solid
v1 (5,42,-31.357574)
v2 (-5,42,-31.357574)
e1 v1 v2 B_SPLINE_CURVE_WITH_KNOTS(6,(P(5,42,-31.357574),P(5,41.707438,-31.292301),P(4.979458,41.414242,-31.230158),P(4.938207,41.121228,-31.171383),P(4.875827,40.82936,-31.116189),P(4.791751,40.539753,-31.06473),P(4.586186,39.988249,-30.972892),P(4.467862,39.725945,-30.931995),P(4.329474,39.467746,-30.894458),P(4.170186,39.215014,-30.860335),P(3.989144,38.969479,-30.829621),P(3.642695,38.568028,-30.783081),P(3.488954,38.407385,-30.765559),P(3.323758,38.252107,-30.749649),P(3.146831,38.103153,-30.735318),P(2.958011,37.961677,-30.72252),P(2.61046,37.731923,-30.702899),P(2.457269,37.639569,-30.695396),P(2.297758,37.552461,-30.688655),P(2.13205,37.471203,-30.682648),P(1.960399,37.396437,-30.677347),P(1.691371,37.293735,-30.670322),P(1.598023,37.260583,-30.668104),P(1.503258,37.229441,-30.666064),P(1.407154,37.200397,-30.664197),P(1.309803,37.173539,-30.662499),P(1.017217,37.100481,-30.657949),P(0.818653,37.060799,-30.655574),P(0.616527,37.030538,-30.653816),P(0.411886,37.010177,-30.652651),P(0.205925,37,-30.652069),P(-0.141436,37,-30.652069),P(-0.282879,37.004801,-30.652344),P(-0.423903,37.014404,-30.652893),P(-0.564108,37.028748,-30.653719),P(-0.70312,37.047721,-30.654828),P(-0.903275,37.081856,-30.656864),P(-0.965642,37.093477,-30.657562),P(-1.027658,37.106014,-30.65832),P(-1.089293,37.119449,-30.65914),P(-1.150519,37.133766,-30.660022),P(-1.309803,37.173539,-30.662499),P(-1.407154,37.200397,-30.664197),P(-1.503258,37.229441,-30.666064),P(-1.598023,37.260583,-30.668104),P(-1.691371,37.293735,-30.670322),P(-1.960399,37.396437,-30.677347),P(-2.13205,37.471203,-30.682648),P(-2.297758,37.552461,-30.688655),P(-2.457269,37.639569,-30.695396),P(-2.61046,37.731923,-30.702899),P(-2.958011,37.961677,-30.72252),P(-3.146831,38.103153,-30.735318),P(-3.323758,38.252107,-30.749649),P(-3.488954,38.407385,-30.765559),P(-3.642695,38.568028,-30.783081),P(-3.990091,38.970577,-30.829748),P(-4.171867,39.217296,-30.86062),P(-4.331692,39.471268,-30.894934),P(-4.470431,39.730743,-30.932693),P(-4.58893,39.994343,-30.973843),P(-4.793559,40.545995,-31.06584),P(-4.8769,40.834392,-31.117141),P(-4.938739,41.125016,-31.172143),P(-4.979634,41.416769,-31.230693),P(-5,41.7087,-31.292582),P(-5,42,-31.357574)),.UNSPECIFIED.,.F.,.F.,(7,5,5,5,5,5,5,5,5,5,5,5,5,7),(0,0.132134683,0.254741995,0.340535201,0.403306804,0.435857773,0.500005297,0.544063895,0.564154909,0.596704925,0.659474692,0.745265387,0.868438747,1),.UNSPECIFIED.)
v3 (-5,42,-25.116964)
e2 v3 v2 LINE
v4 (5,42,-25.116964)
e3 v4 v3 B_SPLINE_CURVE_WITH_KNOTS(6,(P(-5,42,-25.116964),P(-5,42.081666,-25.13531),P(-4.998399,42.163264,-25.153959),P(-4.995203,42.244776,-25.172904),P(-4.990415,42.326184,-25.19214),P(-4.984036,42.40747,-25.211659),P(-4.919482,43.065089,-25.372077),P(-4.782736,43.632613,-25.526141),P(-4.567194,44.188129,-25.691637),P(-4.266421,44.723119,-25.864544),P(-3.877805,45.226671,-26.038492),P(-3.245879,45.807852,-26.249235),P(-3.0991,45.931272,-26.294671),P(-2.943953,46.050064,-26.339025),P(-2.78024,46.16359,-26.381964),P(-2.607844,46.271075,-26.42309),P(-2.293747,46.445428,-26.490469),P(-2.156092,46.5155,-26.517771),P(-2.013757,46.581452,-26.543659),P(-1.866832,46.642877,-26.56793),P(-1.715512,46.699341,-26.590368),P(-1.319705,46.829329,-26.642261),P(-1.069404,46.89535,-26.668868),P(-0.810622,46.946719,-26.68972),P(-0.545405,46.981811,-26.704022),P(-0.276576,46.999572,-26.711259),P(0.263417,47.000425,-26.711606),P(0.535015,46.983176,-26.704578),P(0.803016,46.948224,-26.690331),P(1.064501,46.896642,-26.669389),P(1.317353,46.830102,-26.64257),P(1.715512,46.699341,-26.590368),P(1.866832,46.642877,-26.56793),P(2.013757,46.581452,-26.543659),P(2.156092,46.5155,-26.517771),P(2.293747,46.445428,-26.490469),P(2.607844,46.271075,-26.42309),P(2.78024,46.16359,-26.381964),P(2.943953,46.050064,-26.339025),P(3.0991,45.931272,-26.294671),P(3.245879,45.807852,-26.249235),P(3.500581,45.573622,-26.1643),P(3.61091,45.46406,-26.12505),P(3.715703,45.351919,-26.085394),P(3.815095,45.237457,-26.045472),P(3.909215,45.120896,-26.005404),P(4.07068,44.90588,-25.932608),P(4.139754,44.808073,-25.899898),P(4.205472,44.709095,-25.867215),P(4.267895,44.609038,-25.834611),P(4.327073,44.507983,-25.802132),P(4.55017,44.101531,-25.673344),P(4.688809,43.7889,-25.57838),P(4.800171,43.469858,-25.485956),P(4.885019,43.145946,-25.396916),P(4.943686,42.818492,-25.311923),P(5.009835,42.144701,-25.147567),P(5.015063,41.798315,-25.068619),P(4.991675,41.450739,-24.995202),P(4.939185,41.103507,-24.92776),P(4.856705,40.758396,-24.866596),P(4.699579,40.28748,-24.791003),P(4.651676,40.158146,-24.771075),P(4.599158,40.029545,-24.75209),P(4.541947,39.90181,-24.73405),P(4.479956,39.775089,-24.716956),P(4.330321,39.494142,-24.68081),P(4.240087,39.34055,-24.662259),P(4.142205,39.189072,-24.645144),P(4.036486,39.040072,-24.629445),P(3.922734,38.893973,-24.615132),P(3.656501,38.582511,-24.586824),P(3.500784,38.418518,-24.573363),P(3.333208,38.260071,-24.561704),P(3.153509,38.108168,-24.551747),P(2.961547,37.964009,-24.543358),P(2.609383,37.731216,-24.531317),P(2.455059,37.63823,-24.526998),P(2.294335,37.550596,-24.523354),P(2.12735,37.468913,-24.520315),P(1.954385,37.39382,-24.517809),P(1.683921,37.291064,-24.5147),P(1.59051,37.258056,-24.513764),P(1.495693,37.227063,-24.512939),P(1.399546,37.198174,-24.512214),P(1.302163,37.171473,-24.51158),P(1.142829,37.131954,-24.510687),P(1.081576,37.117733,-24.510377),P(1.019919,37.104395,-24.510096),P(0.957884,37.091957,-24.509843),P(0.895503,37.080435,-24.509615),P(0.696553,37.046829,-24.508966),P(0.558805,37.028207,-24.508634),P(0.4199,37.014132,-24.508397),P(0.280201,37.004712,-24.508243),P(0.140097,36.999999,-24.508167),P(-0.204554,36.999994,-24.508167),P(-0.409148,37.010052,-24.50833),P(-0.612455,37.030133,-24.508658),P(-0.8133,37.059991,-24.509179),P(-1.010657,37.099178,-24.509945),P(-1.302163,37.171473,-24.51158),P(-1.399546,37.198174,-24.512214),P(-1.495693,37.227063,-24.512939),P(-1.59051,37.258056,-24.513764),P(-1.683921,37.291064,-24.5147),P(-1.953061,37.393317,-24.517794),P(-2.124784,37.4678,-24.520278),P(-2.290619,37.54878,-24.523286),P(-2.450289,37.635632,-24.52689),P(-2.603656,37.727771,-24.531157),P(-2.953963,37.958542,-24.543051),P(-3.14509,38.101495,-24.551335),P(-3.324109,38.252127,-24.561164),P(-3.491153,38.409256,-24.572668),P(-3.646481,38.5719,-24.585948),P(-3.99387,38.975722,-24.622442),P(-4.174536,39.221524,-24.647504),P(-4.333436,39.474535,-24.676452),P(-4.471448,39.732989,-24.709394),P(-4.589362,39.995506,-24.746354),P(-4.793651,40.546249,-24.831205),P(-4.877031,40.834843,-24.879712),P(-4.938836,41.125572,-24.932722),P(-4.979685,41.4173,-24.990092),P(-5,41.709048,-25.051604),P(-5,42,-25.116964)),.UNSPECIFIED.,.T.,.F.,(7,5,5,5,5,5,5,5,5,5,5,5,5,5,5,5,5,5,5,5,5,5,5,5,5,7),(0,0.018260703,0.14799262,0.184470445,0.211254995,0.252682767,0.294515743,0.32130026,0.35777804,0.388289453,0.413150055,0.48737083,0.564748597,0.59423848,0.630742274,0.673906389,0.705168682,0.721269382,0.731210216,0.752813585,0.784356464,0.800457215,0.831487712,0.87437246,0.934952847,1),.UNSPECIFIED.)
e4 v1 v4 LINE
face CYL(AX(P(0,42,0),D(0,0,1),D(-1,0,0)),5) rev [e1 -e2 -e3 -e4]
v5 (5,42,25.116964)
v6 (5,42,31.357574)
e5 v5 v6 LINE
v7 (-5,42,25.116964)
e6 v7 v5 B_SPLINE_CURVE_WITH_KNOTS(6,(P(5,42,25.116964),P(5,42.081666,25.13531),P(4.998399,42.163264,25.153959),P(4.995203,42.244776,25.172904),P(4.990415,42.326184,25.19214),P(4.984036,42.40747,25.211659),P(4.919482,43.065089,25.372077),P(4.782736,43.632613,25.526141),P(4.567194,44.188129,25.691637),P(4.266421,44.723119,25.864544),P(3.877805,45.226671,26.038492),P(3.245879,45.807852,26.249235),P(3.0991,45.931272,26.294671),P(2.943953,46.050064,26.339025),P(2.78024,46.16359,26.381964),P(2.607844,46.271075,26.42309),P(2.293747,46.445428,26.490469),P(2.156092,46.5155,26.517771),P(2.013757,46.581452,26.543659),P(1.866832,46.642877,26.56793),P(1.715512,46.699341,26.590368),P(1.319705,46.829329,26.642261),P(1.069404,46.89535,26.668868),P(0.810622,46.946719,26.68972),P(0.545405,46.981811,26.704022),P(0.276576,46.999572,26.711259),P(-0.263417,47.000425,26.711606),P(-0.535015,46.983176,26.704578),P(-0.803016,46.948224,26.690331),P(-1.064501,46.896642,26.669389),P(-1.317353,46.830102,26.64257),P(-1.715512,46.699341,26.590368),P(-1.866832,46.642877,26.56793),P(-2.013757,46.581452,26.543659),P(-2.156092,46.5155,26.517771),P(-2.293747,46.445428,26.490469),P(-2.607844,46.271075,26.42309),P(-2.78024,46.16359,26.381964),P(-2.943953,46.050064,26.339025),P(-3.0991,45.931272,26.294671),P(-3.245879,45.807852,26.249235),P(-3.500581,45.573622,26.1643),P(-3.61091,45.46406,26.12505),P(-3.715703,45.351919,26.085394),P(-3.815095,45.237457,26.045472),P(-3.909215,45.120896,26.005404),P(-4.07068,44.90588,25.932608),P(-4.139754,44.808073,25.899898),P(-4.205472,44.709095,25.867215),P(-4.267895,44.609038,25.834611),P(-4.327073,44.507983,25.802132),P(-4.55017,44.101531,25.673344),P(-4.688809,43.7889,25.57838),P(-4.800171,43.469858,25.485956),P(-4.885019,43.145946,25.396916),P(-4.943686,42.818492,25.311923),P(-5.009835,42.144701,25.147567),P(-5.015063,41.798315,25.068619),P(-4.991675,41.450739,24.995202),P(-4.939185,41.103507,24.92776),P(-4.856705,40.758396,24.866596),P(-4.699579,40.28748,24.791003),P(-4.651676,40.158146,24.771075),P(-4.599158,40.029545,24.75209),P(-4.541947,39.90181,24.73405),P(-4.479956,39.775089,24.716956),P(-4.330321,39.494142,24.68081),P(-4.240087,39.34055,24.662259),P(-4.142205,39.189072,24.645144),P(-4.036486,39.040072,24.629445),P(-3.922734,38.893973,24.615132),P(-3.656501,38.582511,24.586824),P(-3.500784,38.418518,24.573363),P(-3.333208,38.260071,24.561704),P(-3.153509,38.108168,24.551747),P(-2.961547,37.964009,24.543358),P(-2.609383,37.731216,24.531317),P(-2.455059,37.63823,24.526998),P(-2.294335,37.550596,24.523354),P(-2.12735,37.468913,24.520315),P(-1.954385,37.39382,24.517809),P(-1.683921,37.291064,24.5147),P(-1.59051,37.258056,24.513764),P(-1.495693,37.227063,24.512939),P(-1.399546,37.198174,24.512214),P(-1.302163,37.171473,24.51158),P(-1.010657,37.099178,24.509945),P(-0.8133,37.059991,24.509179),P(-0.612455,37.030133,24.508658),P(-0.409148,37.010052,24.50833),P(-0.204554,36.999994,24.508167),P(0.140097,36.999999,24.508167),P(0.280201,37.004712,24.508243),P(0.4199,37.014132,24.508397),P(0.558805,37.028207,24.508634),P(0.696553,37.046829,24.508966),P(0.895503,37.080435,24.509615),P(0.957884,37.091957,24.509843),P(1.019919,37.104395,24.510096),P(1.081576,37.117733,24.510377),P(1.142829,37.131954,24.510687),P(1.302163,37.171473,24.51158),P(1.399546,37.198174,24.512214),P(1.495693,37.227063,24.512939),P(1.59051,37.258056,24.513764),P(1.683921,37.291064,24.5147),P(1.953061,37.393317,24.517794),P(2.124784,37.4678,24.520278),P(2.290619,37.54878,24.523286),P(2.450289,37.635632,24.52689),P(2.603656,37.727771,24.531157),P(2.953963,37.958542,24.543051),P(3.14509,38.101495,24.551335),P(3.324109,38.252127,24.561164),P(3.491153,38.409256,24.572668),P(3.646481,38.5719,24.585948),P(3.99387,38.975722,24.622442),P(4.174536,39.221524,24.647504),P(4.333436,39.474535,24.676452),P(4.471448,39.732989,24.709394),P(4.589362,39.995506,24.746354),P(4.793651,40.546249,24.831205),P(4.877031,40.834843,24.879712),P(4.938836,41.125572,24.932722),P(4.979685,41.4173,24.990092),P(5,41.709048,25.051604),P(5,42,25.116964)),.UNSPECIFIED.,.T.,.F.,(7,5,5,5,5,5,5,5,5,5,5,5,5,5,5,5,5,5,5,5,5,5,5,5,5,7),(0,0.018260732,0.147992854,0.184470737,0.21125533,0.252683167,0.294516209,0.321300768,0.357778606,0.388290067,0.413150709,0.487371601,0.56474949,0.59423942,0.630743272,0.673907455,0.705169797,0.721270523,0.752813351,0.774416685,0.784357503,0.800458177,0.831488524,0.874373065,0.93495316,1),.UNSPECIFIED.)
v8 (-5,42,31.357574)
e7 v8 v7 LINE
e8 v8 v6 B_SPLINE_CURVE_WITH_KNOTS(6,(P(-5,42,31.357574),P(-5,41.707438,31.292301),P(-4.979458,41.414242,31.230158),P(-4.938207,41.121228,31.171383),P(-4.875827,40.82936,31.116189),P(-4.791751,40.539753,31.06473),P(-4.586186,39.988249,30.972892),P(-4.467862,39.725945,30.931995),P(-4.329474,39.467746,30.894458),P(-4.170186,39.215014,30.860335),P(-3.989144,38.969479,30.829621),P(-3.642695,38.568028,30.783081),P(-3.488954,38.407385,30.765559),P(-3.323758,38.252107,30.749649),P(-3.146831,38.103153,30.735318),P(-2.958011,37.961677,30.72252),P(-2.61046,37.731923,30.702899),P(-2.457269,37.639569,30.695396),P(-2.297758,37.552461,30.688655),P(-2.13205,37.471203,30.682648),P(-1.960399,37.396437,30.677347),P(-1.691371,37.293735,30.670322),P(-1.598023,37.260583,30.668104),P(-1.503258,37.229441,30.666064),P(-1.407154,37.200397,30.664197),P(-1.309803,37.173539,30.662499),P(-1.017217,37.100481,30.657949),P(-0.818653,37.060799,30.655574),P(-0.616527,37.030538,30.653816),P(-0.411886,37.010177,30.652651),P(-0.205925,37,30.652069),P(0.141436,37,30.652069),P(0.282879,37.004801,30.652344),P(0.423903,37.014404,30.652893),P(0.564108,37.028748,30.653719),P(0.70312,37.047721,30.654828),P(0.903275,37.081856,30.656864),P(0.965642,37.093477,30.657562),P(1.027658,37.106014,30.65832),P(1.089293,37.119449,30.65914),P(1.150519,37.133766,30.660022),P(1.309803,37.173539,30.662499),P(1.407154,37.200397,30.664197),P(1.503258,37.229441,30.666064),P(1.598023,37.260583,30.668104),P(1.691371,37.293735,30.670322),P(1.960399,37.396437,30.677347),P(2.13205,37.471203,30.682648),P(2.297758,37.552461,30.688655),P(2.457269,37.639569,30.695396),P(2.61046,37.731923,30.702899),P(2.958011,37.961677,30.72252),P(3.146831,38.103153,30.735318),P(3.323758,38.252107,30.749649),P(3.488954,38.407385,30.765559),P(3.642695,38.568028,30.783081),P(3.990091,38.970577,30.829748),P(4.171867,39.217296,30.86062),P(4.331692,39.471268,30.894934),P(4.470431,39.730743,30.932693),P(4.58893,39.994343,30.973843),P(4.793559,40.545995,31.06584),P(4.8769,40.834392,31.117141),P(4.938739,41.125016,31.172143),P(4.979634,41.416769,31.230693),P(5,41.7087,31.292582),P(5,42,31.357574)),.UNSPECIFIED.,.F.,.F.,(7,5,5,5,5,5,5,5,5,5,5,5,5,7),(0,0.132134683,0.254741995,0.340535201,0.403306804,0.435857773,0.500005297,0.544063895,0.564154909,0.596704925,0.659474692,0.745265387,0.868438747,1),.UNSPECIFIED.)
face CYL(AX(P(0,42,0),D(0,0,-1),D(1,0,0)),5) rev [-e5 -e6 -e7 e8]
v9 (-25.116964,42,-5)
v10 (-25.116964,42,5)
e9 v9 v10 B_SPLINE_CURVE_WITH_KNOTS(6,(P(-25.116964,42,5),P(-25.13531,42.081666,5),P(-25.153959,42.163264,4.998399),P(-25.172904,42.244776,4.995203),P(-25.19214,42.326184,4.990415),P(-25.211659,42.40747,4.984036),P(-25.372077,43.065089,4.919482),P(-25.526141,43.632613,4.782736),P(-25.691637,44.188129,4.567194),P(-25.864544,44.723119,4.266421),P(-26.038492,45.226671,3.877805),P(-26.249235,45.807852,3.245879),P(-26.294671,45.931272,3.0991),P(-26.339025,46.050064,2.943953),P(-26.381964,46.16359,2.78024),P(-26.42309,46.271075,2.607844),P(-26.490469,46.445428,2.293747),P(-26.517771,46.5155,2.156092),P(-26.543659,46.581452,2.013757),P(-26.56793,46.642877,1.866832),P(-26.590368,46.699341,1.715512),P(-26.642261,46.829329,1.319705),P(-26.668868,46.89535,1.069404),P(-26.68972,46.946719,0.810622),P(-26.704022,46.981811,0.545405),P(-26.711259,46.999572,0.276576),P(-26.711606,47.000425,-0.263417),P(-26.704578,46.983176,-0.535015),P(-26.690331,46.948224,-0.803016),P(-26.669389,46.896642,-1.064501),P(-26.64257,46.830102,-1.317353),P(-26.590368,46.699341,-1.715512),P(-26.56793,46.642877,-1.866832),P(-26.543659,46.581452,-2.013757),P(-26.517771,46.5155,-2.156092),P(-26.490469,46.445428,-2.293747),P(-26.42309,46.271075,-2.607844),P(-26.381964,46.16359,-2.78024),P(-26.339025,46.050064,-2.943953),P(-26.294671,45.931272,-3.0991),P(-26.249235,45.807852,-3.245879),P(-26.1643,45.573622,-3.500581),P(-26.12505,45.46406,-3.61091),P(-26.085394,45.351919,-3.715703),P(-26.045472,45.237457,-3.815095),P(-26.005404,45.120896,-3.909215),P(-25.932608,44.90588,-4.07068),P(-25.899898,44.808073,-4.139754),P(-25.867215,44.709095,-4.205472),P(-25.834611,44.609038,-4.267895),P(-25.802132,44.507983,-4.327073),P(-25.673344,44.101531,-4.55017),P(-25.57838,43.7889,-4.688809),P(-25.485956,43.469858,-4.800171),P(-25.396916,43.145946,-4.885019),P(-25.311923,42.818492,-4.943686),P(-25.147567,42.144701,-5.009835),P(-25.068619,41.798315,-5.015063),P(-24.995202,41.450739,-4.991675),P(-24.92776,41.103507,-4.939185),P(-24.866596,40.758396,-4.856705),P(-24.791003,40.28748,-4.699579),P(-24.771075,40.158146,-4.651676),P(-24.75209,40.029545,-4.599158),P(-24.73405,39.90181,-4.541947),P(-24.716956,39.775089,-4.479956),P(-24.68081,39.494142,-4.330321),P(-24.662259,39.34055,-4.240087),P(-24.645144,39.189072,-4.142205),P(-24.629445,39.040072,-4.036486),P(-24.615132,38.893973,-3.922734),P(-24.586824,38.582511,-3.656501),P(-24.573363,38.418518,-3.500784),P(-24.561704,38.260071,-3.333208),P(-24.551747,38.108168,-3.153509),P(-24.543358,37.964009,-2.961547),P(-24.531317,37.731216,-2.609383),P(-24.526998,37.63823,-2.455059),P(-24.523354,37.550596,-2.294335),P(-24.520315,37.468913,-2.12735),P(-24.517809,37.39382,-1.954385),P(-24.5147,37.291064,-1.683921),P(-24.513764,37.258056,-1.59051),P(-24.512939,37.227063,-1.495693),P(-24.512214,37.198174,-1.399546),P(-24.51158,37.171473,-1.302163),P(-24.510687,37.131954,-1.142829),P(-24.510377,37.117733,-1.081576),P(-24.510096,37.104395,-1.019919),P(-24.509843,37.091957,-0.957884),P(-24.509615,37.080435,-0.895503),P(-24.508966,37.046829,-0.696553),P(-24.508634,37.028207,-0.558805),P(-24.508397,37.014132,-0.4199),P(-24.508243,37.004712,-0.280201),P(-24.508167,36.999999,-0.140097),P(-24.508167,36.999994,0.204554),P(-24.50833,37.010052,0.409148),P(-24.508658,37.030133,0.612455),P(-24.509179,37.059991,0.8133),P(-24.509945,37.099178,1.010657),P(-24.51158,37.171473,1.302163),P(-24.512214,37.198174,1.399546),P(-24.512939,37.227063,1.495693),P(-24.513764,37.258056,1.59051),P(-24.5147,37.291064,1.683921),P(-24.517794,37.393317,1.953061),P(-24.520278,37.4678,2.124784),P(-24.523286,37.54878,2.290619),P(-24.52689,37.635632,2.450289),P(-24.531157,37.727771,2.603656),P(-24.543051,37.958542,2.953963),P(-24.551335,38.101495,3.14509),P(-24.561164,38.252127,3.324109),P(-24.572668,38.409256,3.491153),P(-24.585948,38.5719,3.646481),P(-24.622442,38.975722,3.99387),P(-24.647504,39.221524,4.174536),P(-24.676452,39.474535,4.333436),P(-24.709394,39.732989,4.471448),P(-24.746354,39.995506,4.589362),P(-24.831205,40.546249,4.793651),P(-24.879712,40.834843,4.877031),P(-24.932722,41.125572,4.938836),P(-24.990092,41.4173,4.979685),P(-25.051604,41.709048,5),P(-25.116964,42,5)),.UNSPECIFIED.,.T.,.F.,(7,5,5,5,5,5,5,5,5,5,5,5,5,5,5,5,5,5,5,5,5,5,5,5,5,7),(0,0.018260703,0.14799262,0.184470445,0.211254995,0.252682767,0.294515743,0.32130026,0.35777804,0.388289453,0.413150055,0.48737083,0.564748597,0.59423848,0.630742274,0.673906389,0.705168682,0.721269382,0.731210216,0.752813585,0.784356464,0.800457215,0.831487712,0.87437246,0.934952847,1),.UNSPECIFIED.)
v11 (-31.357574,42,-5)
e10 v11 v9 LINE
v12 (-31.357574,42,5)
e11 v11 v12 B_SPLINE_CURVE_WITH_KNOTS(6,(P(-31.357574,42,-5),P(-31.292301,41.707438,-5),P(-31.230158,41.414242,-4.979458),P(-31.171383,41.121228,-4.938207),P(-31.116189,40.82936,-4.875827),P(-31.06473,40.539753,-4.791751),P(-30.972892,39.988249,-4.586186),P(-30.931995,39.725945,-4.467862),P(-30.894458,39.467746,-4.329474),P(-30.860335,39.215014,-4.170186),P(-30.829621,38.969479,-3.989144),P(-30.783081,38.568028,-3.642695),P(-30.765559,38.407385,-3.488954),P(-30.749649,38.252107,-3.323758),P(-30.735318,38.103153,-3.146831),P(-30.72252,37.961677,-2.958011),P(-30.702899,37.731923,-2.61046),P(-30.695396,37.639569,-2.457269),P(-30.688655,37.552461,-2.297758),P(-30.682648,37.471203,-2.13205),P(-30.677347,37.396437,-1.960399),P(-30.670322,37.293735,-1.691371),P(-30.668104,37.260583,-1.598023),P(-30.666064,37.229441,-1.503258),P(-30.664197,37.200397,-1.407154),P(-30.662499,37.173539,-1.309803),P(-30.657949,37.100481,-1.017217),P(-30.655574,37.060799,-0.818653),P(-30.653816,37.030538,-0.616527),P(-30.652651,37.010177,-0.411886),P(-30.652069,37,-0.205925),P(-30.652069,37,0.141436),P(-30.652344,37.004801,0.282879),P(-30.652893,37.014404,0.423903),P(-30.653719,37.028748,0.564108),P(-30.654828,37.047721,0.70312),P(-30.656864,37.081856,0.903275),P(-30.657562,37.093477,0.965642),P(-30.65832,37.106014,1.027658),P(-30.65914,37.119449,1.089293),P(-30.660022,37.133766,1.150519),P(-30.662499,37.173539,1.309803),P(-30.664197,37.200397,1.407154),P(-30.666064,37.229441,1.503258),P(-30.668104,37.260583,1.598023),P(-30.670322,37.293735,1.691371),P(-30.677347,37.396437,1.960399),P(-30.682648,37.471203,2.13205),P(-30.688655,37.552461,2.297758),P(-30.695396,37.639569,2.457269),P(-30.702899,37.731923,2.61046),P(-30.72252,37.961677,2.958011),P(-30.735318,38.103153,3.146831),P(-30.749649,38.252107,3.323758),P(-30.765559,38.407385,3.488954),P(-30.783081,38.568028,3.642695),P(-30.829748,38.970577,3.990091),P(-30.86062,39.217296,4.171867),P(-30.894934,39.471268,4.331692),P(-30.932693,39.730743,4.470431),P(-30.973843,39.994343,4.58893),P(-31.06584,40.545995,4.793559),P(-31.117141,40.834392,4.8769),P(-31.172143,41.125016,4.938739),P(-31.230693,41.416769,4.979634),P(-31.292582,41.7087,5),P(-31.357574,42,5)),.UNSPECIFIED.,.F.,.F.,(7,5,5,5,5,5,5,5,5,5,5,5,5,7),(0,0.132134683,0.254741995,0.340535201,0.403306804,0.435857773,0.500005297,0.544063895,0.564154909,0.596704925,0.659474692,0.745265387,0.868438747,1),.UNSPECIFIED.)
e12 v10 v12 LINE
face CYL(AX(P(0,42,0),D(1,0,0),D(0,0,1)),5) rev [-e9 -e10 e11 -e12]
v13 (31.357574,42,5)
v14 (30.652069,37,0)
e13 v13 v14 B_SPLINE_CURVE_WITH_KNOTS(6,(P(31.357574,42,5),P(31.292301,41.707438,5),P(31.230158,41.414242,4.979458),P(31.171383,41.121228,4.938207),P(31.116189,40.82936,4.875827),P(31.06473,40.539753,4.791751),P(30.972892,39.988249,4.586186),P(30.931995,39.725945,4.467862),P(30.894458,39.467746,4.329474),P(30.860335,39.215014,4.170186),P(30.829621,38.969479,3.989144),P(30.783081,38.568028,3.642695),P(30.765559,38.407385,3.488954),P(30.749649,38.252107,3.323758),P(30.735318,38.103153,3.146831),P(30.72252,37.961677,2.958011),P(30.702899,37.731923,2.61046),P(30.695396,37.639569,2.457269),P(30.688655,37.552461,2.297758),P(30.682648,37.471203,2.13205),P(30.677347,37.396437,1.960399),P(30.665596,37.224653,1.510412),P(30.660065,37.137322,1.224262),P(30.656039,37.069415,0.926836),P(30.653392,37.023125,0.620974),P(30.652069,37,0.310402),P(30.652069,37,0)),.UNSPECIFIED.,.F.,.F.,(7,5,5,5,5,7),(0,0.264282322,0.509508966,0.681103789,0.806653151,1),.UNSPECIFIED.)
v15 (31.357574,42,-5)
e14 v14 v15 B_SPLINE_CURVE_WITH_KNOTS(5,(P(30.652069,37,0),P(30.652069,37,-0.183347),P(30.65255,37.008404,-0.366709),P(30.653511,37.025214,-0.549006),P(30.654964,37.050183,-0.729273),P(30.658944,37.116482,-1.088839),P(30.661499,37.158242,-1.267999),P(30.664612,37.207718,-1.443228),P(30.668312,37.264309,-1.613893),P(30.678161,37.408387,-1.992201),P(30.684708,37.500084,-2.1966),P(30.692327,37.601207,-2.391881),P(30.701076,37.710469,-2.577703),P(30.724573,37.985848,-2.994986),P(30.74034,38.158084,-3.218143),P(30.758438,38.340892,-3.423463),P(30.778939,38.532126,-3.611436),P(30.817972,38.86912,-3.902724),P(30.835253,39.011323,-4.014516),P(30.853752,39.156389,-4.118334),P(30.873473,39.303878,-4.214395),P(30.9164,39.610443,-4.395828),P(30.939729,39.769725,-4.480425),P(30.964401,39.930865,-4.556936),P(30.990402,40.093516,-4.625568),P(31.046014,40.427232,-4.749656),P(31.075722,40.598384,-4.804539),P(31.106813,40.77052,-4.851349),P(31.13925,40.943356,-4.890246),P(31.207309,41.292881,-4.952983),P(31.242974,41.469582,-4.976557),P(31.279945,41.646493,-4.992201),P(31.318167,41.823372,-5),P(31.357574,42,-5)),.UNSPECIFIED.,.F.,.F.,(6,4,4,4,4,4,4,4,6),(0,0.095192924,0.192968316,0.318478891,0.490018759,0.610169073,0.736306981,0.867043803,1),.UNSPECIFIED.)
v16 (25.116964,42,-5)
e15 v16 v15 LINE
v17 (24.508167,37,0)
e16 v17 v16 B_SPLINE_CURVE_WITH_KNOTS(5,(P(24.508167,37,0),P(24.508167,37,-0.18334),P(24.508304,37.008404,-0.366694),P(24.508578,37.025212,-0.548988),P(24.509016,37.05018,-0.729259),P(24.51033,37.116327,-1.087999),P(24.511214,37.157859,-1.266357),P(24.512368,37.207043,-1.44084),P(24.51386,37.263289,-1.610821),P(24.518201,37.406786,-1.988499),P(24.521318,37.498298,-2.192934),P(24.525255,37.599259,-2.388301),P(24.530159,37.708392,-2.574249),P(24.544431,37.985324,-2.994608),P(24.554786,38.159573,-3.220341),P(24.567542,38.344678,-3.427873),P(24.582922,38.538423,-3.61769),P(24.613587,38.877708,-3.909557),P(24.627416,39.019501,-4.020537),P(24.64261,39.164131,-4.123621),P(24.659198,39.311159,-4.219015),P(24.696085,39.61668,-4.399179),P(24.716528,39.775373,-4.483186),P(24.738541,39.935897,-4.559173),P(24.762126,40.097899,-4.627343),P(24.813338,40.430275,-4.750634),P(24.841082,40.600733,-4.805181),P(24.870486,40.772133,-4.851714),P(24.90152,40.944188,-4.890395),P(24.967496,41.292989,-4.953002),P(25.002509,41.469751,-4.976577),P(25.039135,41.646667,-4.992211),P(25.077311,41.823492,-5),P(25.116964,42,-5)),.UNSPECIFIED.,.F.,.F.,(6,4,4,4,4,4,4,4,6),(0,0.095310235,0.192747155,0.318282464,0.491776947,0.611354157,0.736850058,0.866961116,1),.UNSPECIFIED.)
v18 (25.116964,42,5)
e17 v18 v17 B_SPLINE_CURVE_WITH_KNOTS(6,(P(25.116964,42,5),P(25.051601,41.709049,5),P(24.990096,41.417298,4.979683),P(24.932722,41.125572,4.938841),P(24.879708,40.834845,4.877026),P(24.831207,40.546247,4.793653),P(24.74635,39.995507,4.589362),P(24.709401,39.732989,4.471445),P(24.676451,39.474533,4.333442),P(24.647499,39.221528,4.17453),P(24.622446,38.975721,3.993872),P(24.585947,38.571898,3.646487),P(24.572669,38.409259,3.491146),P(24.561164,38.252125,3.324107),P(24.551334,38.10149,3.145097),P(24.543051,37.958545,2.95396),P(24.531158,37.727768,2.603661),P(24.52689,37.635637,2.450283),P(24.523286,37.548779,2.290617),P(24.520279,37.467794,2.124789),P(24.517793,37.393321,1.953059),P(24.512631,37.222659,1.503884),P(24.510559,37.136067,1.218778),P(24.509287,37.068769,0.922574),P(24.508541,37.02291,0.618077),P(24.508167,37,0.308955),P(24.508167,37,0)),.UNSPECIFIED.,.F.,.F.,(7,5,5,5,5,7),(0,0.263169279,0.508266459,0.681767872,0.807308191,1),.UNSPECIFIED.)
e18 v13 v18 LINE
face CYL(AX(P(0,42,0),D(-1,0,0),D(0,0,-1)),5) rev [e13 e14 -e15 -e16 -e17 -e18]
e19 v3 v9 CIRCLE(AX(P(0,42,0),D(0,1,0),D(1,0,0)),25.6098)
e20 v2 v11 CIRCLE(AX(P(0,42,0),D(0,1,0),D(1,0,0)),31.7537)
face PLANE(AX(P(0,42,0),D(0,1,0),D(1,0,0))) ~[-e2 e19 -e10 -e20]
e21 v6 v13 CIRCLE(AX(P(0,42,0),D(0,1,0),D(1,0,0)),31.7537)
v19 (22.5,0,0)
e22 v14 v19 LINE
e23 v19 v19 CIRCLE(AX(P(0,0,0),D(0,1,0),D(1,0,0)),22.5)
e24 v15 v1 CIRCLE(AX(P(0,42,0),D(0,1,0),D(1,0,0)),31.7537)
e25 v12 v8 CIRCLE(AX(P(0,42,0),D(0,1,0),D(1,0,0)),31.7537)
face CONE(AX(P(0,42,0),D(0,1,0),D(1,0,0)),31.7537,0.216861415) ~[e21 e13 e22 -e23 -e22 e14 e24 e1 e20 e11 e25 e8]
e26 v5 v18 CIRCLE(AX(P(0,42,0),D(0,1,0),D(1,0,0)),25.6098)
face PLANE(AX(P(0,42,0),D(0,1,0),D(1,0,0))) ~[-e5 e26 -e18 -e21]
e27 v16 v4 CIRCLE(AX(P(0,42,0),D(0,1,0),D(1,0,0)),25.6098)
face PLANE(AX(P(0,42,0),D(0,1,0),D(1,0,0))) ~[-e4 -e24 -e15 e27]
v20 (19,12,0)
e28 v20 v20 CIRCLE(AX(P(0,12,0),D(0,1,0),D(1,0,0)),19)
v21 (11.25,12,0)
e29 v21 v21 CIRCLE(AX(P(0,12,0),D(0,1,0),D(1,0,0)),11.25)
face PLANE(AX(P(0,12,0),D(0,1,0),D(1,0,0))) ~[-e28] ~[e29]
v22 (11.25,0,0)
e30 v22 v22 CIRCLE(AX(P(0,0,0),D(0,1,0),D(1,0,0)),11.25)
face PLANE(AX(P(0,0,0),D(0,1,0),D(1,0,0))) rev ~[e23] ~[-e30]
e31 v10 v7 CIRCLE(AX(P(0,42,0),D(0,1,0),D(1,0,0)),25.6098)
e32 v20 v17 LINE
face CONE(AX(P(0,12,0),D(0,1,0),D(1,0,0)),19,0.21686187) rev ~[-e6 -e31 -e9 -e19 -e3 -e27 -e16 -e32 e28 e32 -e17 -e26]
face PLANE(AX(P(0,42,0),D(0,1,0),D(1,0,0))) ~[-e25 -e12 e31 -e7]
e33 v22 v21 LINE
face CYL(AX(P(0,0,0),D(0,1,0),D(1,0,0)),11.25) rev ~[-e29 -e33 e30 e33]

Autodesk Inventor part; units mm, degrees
ref_plane "YZ Plane" through (0, 0, 0) normal (1, 0, 0) x (0, 1, 0)
ref_plane "XZ Plane" through (0, 0, 0) normal (0, 1, 0) x (-1, 0, 0)
ref_plane "XY Plane" through (0, 0, 0) normal (0, 0, 1) x (1, 0, 0)
sketch "Sketch3" plane through (0, 0, 0) normal (0, 0, 1) x (1, 0, 0)
  line L0 (0, 0) -> (0, 42)
  line L1 (11.25, 0) -> (11.25, 12)
  line L2 (11.25, 12) -> (19, 12)
  line L3 (19, 12) -> (25.6098, 42)
  line L4 (25.6098, 42) -> (31.7537, 42)
  line L5 (31.7537, 42) -> (22.5, 0)
  line L6 (22.5, 0) -> (11.25, 0)
  dimension "d3" = 6
  dimension "d4" = 42
  dimension "d5" = 12
  dimension "d6" = 22.5
  dimension "d7" = 45
  dimension "d8" = 38
  dimension "d9" = 63.5073
revolve "Revolution1" add sketch "Sketch3" angle 360 about axis through (0, 0, 0) along (0, 1, 0)
sketch "Sketch4" plane through (0, 0, 0) normal (0, 0, 1) x (1, 0, 0)
  line L0 (31.7537, 42) -> (-31.7537, 42) projected
  circle A0 centre (0, 42) radius 5
  point P0 (0, 0)
  dimension "d11" = 10
extrude "Extrusion2" cut sketch "Sketch4" along normal through all
pattern_circular "Circular Pattern1" count 4 over 360 about axis through (0, -10, 0) along (0, 1, 0) of "Extrusion2"
properties part number "cup" material "Steel, Cast"
